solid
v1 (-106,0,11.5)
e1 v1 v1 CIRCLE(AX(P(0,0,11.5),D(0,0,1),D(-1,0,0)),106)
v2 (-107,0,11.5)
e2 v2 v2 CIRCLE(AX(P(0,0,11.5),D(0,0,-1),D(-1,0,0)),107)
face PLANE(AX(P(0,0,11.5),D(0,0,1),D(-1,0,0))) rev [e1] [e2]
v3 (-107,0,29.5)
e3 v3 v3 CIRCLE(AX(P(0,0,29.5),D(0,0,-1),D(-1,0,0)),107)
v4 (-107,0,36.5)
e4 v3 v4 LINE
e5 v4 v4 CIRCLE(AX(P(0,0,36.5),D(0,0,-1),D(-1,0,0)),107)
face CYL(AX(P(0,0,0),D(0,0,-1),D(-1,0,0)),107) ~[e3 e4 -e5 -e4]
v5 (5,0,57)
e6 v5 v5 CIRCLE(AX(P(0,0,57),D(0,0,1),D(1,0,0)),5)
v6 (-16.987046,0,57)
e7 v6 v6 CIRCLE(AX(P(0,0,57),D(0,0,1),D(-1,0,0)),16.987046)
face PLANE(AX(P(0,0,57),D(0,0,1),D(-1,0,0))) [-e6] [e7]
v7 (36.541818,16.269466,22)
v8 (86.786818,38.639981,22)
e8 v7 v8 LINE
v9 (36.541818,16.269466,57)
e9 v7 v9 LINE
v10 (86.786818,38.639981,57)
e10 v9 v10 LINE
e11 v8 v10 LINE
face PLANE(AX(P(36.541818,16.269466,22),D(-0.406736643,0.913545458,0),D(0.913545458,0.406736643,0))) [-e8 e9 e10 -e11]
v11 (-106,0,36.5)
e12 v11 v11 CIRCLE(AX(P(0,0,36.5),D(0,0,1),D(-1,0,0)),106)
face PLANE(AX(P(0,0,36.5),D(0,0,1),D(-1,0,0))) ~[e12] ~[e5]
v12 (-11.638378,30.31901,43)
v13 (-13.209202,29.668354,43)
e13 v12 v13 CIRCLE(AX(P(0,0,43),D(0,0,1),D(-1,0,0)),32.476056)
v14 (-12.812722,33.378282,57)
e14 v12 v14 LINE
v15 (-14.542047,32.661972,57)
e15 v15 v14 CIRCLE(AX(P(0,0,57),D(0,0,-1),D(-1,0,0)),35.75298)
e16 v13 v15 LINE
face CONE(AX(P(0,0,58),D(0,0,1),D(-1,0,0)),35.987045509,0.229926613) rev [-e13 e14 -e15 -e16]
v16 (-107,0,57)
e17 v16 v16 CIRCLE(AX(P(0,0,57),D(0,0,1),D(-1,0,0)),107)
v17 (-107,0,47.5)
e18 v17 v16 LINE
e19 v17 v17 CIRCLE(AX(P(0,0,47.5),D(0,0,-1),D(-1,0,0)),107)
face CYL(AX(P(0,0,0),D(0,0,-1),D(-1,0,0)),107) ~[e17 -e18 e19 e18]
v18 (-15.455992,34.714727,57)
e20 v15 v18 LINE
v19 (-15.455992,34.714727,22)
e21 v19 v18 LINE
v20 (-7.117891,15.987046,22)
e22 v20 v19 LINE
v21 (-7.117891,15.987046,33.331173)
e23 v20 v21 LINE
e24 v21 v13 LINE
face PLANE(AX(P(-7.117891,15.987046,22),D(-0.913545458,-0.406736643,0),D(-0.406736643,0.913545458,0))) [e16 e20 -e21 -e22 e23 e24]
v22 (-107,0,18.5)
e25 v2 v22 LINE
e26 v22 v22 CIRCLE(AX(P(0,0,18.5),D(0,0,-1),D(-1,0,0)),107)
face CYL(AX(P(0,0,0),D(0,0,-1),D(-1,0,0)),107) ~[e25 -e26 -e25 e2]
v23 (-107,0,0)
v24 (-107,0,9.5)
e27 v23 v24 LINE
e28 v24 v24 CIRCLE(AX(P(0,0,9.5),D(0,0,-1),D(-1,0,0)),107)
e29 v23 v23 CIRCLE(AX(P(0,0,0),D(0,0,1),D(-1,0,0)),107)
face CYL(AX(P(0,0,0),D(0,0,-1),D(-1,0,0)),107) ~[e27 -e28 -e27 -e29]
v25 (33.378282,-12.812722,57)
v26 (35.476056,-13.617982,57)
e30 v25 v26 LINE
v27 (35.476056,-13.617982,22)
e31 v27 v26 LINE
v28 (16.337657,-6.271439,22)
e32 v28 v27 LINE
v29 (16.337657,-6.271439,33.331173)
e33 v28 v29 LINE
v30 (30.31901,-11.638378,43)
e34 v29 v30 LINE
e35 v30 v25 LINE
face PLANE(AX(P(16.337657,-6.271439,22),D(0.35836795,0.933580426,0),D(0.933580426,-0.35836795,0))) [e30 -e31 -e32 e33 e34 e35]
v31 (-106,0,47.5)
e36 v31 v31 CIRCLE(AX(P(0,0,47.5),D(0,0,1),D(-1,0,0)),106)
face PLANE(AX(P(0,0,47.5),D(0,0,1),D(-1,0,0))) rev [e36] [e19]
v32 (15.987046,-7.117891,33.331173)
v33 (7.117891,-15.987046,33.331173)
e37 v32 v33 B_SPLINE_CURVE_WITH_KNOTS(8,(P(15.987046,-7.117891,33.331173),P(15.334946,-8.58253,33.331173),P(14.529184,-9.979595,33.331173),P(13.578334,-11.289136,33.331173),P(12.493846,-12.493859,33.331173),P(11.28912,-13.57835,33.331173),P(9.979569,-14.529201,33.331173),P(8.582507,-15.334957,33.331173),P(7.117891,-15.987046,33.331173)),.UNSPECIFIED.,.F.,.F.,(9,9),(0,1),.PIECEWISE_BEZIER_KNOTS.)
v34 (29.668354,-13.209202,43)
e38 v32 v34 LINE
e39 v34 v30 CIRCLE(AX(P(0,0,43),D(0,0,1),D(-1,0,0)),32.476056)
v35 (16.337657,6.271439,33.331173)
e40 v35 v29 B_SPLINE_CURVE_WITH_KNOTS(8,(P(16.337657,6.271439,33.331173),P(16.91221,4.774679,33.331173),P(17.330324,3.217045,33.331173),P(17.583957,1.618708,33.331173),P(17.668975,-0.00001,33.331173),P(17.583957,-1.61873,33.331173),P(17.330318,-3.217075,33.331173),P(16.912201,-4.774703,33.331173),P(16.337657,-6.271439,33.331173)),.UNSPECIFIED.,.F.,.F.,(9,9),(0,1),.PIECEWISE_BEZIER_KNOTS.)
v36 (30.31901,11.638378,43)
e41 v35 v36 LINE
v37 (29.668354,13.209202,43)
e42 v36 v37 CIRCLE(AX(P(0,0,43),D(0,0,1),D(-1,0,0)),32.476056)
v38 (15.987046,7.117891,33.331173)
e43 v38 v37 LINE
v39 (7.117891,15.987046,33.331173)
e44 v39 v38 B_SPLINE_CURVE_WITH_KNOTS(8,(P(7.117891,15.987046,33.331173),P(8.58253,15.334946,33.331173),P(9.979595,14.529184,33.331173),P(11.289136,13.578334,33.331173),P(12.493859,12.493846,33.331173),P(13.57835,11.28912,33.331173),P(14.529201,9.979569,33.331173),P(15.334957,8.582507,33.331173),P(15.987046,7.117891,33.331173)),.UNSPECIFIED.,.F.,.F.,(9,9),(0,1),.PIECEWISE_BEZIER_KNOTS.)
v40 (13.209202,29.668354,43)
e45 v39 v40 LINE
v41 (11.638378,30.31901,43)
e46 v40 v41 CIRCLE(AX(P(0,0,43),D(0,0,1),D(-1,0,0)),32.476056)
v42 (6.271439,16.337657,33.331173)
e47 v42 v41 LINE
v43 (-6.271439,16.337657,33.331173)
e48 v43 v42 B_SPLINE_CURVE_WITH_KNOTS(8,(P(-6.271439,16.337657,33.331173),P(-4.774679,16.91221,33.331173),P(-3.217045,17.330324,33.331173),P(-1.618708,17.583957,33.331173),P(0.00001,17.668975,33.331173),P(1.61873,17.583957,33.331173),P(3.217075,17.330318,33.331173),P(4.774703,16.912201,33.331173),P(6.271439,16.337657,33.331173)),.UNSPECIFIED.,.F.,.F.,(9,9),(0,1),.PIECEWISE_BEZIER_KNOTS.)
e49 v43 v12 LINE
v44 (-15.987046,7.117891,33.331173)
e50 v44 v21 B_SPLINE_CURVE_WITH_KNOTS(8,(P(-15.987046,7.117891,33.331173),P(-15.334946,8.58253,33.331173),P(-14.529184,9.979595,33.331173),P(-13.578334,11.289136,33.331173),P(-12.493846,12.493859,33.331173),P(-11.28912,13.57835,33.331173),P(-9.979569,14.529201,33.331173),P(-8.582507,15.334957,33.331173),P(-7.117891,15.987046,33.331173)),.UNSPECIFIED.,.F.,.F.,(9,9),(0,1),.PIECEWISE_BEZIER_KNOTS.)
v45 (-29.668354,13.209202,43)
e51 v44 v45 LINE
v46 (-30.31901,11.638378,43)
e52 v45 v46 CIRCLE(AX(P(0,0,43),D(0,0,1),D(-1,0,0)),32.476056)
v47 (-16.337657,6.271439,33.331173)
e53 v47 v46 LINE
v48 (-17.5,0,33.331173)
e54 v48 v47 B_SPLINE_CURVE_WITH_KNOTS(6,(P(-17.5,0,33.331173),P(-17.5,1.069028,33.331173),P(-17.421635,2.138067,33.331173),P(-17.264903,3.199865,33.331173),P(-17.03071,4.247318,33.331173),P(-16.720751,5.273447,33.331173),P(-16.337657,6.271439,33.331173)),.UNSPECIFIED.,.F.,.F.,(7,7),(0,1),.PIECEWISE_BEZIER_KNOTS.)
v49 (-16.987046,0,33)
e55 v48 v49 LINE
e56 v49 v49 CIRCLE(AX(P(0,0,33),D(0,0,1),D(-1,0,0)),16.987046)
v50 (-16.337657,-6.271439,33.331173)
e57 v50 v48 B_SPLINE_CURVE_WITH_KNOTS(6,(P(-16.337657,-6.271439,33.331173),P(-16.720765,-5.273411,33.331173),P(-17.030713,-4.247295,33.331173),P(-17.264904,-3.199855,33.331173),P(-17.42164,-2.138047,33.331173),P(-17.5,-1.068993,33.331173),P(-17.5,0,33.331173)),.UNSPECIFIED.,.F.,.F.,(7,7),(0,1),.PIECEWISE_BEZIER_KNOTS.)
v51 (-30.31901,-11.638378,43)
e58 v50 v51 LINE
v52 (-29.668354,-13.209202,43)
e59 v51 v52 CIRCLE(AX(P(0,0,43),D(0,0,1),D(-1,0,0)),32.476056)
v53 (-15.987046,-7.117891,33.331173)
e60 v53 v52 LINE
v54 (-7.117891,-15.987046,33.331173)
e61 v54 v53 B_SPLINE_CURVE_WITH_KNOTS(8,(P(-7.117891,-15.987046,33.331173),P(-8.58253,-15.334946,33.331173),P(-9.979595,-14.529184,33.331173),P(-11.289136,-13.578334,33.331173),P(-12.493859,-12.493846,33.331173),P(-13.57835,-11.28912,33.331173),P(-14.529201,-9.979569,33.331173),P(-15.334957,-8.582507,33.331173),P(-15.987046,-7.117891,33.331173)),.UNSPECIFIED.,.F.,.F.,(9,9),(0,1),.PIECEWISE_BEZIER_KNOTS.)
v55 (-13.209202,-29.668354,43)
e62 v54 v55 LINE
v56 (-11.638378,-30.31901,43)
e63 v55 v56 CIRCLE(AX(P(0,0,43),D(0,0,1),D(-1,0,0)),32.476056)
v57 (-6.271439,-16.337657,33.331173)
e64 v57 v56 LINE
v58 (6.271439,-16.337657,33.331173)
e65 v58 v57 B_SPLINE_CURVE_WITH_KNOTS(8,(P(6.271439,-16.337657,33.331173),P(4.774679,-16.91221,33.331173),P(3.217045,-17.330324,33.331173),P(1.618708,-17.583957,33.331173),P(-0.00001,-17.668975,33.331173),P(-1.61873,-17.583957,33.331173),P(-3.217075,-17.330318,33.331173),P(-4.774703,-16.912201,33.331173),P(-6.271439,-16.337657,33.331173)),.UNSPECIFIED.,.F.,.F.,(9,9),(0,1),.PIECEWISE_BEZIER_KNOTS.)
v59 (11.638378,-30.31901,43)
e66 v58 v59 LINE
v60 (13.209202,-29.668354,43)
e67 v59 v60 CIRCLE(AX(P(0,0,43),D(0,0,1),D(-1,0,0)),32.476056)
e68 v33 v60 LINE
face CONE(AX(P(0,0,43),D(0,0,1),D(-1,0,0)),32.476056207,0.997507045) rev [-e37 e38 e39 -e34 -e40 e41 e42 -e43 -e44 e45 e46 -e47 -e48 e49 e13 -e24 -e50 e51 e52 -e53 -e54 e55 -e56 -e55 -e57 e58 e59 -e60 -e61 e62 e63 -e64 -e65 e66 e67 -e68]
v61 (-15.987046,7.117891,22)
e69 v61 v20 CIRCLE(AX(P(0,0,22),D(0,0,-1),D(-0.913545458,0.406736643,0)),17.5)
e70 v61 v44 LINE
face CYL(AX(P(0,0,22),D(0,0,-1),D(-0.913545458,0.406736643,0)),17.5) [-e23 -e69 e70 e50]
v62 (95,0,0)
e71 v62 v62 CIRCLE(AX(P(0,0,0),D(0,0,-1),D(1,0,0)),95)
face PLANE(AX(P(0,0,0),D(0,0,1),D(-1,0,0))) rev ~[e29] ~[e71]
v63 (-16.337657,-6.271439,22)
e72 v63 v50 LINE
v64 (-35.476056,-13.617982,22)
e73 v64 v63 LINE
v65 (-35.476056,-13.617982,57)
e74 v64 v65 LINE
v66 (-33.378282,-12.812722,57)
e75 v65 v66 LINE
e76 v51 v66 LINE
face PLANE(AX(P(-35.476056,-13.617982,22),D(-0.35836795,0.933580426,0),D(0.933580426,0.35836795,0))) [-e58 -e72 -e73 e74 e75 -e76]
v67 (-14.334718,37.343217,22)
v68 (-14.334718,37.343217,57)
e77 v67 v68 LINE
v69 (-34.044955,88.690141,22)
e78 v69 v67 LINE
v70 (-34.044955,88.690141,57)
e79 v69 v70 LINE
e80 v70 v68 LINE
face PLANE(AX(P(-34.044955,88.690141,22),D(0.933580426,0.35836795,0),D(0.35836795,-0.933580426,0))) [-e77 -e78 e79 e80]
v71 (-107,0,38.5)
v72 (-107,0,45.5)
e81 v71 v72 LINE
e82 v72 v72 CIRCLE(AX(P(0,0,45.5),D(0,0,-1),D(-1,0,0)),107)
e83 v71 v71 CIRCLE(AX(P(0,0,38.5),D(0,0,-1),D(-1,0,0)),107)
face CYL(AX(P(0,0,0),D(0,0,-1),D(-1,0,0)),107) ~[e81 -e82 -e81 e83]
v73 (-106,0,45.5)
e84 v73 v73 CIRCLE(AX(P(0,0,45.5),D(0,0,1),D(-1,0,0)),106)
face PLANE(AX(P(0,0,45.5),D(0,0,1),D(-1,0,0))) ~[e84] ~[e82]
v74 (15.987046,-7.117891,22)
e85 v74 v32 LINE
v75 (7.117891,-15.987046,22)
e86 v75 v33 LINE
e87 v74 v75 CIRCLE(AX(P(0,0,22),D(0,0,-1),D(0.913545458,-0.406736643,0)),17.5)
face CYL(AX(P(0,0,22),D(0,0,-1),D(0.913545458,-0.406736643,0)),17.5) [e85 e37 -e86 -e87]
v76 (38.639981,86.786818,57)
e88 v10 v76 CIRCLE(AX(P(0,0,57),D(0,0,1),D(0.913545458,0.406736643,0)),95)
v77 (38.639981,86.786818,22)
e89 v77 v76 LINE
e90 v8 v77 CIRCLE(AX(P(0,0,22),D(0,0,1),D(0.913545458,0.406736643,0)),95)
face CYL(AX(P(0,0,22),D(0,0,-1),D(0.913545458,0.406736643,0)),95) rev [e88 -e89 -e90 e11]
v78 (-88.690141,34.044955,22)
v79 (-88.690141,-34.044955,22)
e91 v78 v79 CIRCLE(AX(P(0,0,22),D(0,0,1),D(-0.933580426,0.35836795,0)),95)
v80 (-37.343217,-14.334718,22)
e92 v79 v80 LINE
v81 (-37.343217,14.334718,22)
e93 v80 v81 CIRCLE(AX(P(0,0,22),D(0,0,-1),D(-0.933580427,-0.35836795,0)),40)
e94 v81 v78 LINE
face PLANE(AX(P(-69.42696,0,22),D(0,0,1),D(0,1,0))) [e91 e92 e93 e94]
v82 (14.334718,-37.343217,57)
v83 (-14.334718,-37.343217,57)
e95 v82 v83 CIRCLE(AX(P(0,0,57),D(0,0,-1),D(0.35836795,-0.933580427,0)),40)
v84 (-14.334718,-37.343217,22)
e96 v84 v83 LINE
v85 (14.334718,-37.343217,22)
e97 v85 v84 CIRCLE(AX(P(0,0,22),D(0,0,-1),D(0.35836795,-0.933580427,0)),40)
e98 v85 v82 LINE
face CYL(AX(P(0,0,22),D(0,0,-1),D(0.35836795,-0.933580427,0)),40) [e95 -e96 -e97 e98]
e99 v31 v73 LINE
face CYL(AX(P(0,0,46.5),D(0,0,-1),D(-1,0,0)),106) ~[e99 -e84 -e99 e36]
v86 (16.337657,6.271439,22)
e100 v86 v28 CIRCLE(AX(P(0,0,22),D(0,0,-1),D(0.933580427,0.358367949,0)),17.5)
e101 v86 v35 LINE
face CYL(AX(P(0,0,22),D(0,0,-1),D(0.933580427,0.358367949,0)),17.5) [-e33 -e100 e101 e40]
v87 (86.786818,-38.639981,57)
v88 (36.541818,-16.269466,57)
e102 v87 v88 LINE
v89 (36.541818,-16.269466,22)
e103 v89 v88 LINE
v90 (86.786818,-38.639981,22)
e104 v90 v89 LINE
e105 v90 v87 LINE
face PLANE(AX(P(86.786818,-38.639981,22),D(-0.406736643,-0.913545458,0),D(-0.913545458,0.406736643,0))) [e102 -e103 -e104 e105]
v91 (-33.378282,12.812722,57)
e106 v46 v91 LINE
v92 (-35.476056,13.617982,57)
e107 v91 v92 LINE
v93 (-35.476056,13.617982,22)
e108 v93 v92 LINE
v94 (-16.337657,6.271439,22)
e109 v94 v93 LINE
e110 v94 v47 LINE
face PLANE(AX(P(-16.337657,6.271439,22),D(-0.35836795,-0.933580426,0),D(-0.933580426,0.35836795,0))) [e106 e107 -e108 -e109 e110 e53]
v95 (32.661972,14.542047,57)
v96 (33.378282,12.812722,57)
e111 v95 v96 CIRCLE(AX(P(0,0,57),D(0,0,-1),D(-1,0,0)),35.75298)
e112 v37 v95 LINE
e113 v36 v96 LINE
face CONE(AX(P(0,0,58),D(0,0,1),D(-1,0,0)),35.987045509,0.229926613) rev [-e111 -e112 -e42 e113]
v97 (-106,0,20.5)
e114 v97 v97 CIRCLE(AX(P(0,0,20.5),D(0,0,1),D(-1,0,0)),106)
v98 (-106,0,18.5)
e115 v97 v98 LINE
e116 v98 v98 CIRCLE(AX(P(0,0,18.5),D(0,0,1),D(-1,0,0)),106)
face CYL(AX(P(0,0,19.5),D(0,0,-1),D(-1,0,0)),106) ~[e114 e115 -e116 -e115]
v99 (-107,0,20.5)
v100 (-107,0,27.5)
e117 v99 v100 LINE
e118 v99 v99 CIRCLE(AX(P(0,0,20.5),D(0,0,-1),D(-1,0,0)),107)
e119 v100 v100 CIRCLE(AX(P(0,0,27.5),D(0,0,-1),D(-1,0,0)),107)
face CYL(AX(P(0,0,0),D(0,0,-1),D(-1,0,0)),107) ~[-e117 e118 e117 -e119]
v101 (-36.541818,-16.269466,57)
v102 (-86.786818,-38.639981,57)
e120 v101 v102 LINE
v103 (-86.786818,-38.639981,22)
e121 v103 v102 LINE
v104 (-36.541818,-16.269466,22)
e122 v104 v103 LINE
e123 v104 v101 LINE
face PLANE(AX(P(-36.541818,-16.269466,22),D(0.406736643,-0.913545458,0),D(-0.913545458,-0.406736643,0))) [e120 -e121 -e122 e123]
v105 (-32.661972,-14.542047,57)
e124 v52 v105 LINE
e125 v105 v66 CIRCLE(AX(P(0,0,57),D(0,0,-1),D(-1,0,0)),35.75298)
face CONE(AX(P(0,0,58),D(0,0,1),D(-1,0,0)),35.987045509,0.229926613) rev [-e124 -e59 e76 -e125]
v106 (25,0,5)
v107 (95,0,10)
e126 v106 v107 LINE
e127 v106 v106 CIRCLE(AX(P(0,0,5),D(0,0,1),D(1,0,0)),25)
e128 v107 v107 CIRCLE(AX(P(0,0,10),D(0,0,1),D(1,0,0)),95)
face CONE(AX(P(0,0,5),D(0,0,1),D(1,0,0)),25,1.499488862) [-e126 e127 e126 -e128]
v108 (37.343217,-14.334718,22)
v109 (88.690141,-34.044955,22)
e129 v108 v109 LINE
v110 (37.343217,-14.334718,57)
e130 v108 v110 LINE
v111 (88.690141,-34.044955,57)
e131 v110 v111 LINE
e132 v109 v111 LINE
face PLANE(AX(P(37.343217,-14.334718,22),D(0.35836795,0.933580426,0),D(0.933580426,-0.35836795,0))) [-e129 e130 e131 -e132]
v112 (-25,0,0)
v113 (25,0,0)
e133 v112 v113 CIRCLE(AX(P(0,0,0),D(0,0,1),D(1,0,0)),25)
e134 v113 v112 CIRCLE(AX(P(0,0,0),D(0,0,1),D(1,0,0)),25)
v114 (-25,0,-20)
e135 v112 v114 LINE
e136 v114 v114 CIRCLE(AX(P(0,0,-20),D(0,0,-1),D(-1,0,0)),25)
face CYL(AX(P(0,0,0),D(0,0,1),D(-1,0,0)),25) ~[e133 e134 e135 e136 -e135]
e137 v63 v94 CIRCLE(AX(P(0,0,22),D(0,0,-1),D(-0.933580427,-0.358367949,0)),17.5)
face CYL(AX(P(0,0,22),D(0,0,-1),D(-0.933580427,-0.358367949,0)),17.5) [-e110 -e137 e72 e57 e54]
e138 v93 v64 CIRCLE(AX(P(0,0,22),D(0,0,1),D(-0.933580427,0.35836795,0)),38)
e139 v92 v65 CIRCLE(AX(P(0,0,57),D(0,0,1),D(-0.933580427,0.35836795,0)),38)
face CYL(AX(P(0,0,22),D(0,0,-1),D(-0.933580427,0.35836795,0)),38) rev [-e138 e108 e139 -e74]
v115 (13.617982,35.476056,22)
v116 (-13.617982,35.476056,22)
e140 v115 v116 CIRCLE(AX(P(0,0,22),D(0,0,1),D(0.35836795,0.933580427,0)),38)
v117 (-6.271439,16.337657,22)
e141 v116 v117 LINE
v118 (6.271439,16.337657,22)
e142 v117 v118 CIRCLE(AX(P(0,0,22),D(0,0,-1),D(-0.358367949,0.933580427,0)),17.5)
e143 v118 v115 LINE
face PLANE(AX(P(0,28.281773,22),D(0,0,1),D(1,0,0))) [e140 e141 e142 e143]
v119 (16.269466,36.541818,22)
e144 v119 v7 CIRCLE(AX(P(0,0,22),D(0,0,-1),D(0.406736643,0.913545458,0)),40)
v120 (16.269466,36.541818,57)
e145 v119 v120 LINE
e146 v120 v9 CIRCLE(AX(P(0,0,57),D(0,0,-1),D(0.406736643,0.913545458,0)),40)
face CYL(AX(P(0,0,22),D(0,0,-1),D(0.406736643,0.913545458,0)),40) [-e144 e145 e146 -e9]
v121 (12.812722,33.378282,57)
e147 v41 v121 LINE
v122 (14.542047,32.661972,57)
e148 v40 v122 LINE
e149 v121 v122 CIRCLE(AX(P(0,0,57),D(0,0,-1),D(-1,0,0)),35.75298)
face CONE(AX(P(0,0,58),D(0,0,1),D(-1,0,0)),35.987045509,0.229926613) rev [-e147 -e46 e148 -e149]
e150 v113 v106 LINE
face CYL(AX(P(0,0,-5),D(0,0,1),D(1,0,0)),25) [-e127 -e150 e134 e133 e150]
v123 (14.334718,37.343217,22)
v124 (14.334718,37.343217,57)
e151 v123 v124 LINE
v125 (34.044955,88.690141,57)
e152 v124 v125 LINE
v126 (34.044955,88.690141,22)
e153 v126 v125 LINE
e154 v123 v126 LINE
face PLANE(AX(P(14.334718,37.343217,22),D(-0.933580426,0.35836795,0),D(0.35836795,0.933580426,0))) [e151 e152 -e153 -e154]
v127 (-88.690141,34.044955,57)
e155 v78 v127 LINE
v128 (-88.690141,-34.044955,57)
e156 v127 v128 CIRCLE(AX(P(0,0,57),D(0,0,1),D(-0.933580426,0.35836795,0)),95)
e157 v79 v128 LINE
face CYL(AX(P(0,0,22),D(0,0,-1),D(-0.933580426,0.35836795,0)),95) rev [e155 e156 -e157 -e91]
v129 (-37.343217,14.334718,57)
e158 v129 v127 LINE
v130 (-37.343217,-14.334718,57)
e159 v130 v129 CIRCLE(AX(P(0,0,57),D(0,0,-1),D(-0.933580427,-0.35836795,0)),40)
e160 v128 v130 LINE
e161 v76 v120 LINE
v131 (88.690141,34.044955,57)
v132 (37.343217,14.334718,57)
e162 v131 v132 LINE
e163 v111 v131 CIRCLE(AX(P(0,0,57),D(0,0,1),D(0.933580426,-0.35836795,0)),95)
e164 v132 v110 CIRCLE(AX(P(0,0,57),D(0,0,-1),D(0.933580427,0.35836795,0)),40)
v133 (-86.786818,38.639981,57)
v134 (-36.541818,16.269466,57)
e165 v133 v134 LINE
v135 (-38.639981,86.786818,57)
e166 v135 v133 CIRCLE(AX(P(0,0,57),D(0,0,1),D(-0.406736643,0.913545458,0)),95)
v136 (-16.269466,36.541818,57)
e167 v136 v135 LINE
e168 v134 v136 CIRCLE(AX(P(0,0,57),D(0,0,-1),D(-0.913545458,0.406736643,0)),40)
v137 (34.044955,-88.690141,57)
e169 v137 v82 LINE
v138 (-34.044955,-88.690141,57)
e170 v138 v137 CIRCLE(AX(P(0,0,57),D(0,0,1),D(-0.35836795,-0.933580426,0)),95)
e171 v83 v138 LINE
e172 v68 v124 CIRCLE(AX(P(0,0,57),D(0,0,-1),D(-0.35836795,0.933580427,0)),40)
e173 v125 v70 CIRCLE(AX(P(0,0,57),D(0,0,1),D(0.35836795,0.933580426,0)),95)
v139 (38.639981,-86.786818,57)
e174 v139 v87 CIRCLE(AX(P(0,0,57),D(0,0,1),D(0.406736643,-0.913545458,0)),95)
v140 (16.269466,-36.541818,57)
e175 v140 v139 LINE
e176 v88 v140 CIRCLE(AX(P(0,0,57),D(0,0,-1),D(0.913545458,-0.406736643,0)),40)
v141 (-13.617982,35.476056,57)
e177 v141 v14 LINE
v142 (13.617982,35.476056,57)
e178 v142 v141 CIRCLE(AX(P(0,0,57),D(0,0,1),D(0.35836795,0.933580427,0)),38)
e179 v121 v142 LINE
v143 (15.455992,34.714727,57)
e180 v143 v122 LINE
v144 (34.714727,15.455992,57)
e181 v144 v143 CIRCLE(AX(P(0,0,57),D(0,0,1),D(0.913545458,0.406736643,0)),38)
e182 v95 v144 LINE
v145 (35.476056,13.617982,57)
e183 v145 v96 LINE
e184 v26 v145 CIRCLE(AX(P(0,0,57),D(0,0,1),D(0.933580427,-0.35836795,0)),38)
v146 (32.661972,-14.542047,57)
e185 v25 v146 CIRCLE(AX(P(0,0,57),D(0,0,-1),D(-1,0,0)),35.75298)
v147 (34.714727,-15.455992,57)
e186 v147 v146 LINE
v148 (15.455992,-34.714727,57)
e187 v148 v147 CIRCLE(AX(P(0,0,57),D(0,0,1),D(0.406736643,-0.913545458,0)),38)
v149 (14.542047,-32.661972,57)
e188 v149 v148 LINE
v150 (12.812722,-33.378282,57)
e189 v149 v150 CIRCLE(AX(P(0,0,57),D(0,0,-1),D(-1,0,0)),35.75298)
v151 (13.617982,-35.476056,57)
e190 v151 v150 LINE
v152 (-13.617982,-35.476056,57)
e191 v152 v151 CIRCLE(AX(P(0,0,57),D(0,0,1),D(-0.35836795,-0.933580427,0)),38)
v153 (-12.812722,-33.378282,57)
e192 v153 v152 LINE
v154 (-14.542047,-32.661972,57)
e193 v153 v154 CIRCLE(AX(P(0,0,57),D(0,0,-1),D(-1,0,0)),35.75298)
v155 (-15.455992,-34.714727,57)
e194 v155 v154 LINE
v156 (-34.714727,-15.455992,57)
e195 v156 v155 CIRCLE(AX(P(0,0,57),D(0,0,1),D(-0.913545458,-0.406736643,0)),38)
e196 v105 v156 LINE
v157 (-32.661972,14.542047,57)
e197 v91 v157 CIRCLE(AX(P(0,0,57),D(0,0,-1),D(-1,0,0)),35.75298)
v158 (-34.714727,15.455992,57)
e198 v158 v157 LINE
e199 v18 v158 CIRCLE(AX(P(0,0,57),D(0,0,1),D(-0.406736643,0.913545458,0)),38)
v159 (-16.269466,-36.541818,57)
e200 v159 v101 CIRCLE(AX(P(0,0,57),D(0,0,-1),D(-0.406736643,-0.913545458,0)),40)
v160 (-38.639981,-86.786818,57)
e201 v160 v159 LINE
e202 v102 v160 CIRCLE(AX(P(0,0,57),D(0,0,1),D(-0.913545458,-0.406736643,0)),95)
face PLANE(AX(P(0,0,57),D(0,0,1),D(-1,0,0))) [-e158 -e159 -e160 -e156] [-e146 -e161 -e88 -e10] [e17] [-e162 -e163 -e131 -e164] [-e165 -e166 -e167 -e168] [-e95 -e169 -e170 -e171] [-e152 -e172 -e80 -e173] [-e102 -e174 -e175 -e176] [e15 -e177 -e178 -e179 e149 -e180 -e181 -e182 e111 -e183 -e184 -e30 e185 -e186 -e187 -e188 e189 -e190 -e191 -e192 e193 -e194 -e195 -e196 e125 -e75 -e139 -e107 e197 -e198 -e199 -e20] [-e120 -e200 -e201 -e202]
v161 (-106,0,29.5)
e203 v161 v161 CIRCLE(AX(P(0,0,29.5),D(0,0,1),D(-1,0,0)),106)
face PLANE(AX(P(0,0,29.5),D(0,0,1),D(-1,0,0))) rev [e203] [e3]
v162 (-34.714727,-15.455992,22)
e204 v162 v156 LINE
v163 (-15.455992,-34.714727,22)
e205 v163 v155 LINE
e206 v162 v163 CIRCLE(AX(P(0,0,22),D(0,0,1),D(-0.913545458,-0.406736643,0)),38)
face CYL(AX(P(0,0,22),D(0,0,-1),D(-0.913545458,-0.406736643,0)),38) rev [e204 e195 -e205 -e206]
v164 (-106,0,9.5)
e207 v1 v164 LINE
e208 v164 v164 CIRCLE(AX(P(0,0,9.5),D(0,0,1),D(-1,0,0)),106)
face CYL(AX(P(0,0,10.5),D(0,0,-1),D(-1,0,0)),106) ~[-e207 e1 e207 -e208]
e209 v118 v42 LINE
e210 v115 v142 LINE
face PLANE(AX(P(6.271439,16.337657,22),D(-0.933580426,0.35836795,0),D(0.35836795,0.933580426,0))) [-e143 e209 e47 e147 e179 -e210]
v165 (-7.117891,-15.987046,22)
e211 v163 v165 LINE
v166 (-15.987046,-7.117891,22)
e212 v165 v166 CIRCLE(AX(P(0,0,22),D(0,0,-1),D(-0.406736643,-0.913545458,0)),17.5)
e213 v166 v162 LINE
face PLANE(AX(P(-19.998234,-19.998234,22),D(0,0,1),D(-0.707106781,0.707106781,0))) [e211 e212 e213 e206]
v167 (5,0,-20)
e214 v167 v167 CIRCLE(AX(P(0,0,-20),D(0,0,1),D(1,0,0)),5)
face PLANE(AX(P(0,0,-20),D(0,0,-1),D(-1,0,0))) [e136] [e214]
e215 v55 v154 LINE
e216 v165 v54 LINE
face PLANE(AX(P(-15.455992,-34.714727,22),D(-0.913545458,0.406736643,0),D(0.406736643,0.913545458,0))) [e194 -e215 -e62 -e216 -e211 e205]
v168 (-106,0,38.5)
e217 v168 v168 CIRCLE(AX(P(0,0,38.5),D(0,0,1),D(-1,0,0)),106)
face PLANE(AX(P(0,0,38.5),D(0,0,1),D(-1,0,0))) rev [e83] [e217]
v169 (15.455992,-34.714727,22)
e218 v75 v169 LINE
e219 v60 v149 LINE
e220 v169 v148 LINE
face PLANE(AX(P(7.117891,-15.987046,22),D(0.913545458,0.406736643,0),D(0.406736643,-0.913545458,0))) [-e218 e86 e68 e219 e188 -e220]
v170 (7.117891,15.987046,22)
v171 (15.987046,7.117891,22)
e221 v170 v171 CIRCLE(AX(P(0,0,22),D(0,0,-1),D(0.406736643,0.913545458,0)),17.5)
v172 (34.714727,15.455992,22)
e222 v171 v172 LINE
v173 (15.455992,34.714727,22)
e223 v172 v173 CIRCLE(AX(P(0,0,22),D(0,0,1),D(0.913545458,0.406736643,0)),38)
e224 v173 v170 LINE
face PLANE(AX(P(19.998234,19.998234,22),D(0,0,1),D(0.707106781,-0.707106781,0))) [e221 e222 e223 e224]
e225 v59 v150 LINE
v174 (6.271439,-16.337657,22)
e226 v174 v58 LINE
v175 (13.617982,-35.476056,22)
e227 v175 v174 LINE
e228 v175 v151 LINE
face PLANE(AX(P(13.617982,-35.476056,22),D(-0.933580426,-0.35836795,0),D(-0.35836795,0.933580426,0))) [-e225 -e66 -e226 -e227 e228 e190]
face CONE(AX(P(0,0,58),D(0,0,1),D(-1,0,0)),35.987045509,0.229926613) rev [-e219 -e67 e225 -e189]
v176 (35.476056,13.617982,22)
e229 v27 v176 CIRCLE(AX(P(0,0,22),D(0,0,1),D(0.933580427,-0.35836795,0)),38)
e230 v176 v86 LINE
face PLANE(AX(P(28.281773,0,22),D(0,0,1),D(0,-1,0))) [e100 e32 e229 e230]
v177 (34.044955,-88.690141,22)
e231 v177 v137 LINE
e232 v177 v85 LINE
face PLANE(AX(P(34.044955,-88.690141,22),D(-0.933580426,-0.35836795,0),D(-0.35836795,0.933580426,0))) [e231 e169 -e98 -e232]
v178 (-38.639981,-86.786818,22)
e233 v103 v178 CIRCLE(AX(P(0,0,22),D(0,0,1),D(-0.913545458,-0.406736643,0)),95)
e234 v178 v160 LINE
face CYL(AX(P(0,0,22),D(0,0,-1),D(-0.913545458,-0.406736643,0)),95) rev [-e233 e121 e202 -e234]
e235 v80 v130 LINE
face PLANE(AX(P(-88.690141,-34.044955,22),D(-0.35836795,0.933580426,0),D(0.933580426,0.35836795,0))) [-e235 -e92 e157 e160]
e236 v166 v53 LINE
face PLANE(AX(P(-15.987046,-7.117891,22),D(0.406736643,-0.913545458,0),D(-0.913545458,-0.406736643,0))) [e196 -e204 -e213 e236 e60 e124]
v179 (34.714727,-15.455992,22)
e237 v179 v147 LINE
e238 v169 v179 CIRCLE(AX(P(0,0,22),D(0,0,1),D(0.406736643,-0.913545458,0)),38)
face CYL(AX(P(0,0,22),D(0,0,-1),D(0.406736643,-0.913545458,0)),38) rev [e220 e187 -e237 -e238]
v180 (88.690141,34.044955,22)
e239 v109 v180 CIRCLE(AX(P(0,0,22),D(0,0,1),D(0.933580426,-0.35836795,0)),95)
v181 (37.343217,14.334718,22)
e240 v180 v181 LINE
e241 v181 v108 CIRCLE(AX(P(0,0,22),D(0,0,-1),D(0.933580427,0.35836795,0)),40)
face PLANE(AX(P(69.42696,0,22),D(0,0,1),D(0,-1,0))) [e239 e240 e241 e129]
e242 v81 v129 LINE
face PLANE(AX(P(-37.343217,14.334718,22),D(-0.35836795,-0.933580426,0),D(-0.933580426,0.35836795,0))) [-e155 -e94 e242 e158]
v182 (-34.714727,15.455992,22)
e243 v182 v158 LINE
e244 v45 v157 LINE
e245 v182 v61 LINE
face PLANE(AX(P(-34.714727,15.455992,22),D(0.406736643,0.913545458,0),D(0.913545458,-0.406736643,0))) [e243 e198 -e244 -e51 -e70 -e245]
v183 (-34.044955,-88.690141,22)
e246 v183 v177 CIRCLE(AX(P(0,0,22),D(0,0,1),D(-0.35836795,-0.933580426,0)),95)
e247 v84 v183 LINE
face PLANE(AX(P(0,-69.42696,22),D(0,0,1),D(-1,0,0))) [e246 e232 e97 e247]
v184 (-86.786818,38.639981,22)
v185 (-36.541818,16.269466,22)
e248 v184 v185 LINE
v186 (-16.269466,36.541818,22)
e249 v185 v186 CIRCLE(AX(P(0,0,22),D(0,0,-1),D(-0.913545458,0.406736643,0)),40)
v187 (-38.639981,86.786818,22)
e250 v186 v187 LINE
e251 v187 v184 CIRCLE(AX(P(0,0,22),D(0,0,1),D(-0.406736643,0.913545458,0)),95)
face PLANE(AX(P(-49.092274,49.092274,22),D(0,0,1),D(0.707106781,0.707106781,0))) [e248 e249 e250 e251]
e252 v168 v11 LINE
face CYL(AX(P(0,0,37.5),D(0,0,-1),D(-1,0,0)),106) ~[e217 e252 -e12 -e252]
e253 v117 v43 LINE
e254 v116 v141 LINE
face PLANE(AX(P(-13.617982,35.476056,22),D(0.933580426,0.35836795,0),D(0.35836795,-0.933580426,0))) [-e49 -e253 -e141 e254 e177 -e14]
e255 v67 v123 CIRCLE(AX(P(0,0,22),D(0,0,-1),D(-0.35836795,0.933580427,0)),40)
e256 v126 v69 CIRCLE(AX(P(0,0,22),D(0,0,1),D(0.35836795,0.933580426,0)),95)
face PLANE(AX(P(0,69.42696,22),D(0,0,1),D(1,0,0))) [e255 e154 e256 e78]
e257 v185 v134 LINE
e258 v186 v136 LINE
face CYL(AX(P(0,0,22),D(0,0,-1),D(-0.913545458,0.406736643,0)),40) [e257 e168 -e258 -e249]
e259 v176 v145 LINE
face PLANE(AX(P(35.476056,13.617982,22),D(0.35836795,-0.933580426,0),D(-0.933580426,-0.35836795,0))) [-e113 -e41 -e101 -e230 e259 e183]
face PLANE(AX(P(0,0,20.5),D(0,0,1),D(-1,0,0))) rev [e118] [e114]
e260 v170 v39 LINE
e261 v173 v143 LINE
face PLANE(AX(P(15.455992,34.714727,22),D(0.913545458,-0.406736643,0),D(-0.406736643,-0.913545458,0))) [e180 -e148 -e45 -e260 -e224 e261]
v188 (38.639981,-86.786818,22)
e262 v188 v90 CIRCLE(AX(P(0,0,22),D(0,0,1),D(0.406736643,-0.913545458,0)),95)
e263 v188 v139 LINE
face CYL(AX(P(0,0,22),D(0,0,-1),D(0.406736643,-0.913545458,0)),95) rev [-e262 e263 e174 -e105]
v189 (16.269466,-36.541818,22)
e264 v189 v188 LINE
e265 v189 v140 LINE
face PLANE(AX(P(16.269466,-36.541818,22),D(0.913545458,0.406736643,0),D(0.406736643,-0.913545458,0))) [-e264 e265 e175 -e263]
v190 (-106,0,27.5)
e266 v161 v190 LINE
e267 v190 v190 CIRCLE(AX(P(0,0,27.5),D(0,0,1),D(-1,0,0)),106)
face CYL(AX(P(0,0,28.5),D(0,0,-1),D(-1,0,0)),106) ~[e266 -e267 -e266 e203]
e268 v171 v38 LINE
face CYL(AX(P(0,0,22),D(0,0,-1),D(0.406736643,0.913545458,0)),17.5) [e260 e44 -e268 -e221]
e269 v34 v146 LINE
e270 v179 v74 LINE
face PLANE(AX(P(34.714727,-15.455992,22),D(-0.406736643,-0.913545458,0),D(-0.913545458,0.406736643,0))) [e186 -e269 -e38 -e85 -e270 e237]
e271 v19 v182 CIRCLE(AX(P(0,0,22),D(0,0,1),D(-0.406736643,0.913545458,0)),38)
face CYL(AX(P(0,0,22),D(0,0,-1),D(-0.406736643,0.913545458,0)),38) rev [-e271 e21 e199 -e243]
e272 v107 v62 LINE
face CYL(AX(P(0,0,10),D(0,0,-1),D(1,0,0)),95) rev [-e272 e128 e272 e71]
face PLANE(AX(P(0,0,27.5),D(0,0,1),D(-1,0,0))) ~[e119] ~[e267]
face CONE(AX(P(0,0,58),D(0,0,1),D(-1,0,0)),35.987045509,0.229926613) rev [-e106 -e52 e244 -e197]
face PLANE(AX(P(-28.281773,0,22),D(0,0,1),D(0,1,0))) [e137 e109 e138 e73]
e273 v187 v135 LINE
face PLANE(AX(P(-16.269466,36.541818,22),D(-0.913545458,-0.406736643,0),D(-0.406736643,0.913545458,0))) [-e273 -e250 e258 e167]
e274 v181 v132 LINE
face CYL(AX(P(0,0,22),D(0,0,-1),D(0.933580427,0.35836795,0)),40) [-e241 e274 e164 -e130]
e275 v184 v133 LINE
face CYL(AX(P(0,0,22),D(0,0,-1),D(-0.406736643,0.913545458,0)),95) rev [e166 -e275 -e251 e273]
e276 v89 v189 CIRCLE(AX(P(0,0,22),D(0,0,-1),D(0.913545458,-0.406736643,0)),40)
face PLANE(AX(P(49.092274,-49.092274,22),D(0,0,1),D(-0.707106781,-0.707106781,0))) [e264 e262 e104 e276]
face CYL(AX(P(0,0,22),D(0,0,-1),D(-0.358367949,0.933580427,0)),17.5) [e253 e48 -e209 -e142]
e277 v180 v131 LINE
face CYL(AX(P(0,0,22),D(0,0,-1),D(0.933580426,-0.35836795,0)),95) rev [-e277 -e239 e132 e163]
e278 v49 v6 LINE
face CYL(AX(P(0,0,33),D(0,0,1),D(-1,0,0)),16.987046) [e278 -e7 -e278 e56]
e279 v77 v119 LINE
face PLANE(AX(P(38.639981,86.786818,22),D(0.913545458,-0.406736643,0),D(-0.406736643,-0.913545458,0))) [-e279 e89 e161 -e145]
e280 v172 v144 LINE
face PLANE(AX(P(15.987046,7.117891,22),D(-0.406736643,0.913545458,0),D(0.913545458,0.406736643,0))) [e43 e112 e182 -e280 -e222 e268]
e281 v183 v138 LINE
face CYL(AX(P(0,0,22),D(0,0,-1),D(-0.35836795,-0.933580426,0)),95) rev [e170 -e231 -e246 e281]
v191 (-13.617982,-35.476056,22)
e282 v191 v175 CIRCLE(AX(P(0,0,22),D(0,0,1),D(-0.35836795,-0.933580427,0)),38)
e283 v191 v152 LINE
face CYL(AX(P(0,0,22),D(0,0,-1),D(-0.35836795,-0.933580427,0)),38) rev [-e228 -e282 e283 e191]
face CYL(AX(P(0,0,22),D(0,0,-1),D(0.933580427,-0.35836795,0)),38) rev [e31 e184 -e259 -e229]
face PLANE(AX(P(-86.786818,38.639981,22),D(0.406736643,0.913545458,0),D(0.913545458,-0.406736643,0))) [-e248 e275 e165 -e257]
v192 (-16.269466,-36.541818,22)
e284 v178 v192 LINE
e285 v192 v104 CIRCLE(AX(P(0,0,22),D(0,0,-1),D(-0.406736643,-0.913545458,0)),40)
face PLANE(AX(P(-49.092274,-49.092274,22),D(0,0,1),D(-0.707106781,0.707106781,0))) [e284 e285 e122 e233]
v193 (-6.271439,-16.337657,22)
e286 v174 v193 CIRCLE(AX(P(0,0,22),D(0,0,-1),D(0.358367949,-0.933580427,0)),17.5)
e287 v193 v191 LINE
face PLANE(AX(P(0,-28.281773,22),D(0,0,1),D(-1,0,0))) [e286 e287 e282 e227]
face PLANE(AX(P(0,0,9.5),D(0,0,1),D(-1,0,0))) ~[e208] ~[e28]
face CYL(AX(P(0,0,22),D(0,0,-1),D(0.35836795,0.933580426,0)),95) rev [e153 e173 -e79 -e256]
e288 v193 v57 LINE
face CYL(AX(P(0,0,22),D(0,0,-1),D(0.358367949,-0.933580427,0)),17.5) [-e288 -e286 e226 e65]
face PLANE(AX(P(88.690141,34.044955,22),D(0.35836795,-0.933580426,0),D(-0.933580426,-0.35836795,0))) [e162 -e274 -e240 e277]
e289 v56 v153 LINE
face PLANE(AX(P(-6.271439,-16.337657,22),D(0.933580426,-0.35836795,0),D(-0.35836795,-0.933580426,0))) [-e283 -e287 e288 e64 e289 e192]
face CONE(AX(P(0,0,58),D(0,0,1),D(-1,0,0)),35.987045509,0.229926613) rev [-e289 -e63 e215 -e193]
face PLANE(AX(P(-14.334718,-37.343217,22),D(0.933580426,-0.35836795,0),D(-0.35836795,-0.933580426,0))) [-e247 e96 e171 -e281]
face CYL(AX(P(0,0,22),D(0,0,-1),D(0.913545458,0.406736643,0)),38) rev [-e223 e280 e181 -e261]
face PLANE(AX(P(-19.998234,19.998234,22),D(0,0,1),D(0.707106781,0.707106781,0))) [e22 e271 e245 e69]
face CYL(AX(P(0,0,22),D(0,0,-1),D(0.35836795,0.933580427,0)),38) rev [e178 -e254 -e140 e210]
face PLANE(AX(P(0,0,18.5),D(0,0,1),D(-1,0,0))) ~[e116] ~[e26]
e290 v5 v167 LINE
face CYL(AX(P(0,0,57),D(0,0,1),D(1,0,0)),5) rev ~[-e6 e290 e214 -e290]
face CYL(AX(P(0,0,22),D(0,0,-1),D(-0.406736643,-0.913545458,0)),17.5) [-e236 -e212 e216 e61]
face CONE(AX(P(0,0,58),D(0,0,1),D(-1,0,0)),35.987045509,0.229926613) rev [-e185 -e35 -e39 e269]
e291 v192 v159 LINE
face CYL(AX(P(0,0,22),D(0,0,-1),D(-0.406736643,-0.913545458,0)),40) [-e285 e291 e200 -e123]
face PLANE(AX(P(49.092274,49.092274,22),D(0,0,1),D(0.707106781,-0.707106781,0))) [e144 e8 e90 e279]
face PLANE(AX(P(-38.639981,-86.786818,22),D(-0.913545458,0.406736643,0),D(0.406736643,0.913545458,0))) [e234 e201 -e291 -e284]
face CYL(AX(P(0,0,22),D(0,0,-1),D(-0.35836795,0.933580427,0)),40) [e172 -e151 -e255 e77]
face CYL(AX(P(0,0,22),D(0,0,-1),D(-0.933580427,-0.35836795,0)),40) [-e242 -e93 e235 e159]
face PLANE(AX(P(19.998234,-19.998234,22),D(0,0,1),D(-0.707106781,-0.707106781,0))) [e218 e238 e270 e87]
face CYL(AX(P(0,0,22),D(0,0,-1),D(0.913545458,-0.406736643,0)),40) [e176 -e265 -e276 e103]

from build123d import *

# Parameters (mm, degrees)
SKETCH1_R           = 107
BOSS_EXTRUDE1_DEPTH = 57
SKETCH3_W           = 2
SKETCH3_H           = 2.636408112
SKETCH7_R           = 25
BOSS_EXTRUDE2_DEPTH = 20
CUT_EXTRUDE1_START  = -35
CUT_EXTRUDE1_DEPTH  = 35
CIRPATTERN5_COUNT   = 8
SKETCH11_R          = 5
CUT_EXTRUDE2_DEPTH  = 170.785158362


with BuildPart() as part:
    # Sketch1 → Boss-Extrude1 (new body)
    with BuildSketch(Plane.XY):
        with Locations(Location((0, 0, 0), (0, 0, 180))):
            Circle(SKETCH1_R)
    extrude(amount=BOSS_EXTRUDE1_DEPTH)

    # Sketch3 → Cut-Revolve3 (revolve, cut)
    with BuildSketch(Plane(origin=(0, 0, 0), x_dir=(0, 0, -1), z_dir=(1, 0, 0)), mode=Mode.PRIVATE) as cut_revolve3_sk:
        with Locations((-46.5, 107.318204056)):
            Rectangle(SKETCH3_W, SKETCH3_H)
        with Locations((-37.5, 107.318204056)):
            Rectangle(SKETCH3_W, SKETCH3_H)
        with Locations((-28.5, 107.318204056)):
            Rectangle(SKETCH3_W, SKETCH3_H)
        with Locations((-19.5, 107.318204056)):
            Rectangle(SKETCH3_W, SKETCH3_H)
        with Locations((-10.5, 107.318204056)):
            Rectangle(SKETCH3_W, SKETCH3_H)
    revolve(cut_revolve3_sk.sketch.rotate(Axis((0, 0, 0), (0, 0, 1)), 90), axis=Axis((0, 0, 0), (0, 0, 1)), mode=Mode.SUBTRACT)

    # Sketch6 → Cut-Revolve4 (revolve, cut)
    with BuildSketch(Plane(origin=(0, 0, 0), x_dir=(0, 0, -1), z_dir=(1, 0, 0)), mode=Mode.PRIVATE) as cut_revolve4_sk:
        Polygon((5, 95), (5, 25), (-5, 25), (-10, 95), align=None)
    revolve(cut_revolve4_sk.sketch.rotate(Axis((0, 0, -20.482166518), (0, 0, 1)), 270), axis=Axis((0, 0, -20.482166518), (0, 0, 1)), mode=Mode.SUBTRACT)

    # Sketch7 → Boss-Extrude2 (add)
    with BuildSketch(Plane(origin=(0, 0, 0), x_dir=(-1, 0, 0), z_dir=(0, 0, -1))):
        Circle(SKETCH7_R)
    extrude(amount=BOSS_EXTRUDE2_DEPTH)

    # Sketch8 → Cut-Extrude1 (cut)
    with BuildSketch(Plane.XY.offset(57).offset(CUT_EXTRUDE1_START)):
        with BuildLine():
            Line((14.334717982, 37.34321706), (34.044955207, 88.690140517))
            ThreePointArc((34.044955207, 88.690140517), (0, 95), (-34.044955207, 88.690140517))
            Line((-34.044955207, 88.690140517), (-14.334717982, 37.34321706))
            ThreePointArc((-14.334717982, 37.34321706), (0, 40), (14.334717982, 37.34321706))
        make_face()
        with BuildLine():
            Line((-13.617982083, 35.476056207), (-6.271439117, 16.337657464))
            ThreePointArc((-6.271439117, 16.337657464), (0, 17.5), (6.271439117, 16.337657464))
            Line((6.271439117, 16.337657464), (13.617982083, 35.476056207))
            ThreePointArc((13.617982083, 35.476056207), (0, 38), (-13.617982083, 35.476056207))
        make_face()
    cut_extrude1 = extrude(amount=CUT_EXTRUDE1_DEPTH, mode=Mode.SUBTRACT)

    # CirPattern5: Cut-Extrude1 ×8 about axis
    cirpattern5_axis = Axis((0, 0, 0), (0, 0, 1))
    for i in range(1, CIRPATTERN5_COUNT):
        add(cut_extrude1.rotate(cirpattern5_axis, i * 360 / CIRPATTERN5_COUNT), mode=Mode.SUBTRACT)

    # Sketch10 → Cut-Revolve5 (revolve, cut)
    with BuildSketch(Plane(origin=(0, 0, 0), x_dir=(0, 0, -1), z_dir=(1, 0, 0)), mode=Mode.PRIVATE) as cut_revolve5_sk:
        Polygon((-58, 35.987045509), (-43, 32.476056207), (-33, 16.987045509), (-58, 16.987045509), align=None)
    revolve(cut_revolve5_sk.sketch.rotate(Axis((0, 0, 0), (0, 0, 1)), 90), axis=Axis((0, 0, 0), (0, 0, 1)), mode=Mode.SUBTRACT)

    # Sketch11 → Cut-Extrude2 (cut, through all)
    with BuildSketch(Plane.XY.offset(57)):
        Circle(SKETCH11_R)
    extrude(amount=-CUT_EXTRUDE2_DEPTH, mode=Mode.SUBTRACT)


solid = part.part
